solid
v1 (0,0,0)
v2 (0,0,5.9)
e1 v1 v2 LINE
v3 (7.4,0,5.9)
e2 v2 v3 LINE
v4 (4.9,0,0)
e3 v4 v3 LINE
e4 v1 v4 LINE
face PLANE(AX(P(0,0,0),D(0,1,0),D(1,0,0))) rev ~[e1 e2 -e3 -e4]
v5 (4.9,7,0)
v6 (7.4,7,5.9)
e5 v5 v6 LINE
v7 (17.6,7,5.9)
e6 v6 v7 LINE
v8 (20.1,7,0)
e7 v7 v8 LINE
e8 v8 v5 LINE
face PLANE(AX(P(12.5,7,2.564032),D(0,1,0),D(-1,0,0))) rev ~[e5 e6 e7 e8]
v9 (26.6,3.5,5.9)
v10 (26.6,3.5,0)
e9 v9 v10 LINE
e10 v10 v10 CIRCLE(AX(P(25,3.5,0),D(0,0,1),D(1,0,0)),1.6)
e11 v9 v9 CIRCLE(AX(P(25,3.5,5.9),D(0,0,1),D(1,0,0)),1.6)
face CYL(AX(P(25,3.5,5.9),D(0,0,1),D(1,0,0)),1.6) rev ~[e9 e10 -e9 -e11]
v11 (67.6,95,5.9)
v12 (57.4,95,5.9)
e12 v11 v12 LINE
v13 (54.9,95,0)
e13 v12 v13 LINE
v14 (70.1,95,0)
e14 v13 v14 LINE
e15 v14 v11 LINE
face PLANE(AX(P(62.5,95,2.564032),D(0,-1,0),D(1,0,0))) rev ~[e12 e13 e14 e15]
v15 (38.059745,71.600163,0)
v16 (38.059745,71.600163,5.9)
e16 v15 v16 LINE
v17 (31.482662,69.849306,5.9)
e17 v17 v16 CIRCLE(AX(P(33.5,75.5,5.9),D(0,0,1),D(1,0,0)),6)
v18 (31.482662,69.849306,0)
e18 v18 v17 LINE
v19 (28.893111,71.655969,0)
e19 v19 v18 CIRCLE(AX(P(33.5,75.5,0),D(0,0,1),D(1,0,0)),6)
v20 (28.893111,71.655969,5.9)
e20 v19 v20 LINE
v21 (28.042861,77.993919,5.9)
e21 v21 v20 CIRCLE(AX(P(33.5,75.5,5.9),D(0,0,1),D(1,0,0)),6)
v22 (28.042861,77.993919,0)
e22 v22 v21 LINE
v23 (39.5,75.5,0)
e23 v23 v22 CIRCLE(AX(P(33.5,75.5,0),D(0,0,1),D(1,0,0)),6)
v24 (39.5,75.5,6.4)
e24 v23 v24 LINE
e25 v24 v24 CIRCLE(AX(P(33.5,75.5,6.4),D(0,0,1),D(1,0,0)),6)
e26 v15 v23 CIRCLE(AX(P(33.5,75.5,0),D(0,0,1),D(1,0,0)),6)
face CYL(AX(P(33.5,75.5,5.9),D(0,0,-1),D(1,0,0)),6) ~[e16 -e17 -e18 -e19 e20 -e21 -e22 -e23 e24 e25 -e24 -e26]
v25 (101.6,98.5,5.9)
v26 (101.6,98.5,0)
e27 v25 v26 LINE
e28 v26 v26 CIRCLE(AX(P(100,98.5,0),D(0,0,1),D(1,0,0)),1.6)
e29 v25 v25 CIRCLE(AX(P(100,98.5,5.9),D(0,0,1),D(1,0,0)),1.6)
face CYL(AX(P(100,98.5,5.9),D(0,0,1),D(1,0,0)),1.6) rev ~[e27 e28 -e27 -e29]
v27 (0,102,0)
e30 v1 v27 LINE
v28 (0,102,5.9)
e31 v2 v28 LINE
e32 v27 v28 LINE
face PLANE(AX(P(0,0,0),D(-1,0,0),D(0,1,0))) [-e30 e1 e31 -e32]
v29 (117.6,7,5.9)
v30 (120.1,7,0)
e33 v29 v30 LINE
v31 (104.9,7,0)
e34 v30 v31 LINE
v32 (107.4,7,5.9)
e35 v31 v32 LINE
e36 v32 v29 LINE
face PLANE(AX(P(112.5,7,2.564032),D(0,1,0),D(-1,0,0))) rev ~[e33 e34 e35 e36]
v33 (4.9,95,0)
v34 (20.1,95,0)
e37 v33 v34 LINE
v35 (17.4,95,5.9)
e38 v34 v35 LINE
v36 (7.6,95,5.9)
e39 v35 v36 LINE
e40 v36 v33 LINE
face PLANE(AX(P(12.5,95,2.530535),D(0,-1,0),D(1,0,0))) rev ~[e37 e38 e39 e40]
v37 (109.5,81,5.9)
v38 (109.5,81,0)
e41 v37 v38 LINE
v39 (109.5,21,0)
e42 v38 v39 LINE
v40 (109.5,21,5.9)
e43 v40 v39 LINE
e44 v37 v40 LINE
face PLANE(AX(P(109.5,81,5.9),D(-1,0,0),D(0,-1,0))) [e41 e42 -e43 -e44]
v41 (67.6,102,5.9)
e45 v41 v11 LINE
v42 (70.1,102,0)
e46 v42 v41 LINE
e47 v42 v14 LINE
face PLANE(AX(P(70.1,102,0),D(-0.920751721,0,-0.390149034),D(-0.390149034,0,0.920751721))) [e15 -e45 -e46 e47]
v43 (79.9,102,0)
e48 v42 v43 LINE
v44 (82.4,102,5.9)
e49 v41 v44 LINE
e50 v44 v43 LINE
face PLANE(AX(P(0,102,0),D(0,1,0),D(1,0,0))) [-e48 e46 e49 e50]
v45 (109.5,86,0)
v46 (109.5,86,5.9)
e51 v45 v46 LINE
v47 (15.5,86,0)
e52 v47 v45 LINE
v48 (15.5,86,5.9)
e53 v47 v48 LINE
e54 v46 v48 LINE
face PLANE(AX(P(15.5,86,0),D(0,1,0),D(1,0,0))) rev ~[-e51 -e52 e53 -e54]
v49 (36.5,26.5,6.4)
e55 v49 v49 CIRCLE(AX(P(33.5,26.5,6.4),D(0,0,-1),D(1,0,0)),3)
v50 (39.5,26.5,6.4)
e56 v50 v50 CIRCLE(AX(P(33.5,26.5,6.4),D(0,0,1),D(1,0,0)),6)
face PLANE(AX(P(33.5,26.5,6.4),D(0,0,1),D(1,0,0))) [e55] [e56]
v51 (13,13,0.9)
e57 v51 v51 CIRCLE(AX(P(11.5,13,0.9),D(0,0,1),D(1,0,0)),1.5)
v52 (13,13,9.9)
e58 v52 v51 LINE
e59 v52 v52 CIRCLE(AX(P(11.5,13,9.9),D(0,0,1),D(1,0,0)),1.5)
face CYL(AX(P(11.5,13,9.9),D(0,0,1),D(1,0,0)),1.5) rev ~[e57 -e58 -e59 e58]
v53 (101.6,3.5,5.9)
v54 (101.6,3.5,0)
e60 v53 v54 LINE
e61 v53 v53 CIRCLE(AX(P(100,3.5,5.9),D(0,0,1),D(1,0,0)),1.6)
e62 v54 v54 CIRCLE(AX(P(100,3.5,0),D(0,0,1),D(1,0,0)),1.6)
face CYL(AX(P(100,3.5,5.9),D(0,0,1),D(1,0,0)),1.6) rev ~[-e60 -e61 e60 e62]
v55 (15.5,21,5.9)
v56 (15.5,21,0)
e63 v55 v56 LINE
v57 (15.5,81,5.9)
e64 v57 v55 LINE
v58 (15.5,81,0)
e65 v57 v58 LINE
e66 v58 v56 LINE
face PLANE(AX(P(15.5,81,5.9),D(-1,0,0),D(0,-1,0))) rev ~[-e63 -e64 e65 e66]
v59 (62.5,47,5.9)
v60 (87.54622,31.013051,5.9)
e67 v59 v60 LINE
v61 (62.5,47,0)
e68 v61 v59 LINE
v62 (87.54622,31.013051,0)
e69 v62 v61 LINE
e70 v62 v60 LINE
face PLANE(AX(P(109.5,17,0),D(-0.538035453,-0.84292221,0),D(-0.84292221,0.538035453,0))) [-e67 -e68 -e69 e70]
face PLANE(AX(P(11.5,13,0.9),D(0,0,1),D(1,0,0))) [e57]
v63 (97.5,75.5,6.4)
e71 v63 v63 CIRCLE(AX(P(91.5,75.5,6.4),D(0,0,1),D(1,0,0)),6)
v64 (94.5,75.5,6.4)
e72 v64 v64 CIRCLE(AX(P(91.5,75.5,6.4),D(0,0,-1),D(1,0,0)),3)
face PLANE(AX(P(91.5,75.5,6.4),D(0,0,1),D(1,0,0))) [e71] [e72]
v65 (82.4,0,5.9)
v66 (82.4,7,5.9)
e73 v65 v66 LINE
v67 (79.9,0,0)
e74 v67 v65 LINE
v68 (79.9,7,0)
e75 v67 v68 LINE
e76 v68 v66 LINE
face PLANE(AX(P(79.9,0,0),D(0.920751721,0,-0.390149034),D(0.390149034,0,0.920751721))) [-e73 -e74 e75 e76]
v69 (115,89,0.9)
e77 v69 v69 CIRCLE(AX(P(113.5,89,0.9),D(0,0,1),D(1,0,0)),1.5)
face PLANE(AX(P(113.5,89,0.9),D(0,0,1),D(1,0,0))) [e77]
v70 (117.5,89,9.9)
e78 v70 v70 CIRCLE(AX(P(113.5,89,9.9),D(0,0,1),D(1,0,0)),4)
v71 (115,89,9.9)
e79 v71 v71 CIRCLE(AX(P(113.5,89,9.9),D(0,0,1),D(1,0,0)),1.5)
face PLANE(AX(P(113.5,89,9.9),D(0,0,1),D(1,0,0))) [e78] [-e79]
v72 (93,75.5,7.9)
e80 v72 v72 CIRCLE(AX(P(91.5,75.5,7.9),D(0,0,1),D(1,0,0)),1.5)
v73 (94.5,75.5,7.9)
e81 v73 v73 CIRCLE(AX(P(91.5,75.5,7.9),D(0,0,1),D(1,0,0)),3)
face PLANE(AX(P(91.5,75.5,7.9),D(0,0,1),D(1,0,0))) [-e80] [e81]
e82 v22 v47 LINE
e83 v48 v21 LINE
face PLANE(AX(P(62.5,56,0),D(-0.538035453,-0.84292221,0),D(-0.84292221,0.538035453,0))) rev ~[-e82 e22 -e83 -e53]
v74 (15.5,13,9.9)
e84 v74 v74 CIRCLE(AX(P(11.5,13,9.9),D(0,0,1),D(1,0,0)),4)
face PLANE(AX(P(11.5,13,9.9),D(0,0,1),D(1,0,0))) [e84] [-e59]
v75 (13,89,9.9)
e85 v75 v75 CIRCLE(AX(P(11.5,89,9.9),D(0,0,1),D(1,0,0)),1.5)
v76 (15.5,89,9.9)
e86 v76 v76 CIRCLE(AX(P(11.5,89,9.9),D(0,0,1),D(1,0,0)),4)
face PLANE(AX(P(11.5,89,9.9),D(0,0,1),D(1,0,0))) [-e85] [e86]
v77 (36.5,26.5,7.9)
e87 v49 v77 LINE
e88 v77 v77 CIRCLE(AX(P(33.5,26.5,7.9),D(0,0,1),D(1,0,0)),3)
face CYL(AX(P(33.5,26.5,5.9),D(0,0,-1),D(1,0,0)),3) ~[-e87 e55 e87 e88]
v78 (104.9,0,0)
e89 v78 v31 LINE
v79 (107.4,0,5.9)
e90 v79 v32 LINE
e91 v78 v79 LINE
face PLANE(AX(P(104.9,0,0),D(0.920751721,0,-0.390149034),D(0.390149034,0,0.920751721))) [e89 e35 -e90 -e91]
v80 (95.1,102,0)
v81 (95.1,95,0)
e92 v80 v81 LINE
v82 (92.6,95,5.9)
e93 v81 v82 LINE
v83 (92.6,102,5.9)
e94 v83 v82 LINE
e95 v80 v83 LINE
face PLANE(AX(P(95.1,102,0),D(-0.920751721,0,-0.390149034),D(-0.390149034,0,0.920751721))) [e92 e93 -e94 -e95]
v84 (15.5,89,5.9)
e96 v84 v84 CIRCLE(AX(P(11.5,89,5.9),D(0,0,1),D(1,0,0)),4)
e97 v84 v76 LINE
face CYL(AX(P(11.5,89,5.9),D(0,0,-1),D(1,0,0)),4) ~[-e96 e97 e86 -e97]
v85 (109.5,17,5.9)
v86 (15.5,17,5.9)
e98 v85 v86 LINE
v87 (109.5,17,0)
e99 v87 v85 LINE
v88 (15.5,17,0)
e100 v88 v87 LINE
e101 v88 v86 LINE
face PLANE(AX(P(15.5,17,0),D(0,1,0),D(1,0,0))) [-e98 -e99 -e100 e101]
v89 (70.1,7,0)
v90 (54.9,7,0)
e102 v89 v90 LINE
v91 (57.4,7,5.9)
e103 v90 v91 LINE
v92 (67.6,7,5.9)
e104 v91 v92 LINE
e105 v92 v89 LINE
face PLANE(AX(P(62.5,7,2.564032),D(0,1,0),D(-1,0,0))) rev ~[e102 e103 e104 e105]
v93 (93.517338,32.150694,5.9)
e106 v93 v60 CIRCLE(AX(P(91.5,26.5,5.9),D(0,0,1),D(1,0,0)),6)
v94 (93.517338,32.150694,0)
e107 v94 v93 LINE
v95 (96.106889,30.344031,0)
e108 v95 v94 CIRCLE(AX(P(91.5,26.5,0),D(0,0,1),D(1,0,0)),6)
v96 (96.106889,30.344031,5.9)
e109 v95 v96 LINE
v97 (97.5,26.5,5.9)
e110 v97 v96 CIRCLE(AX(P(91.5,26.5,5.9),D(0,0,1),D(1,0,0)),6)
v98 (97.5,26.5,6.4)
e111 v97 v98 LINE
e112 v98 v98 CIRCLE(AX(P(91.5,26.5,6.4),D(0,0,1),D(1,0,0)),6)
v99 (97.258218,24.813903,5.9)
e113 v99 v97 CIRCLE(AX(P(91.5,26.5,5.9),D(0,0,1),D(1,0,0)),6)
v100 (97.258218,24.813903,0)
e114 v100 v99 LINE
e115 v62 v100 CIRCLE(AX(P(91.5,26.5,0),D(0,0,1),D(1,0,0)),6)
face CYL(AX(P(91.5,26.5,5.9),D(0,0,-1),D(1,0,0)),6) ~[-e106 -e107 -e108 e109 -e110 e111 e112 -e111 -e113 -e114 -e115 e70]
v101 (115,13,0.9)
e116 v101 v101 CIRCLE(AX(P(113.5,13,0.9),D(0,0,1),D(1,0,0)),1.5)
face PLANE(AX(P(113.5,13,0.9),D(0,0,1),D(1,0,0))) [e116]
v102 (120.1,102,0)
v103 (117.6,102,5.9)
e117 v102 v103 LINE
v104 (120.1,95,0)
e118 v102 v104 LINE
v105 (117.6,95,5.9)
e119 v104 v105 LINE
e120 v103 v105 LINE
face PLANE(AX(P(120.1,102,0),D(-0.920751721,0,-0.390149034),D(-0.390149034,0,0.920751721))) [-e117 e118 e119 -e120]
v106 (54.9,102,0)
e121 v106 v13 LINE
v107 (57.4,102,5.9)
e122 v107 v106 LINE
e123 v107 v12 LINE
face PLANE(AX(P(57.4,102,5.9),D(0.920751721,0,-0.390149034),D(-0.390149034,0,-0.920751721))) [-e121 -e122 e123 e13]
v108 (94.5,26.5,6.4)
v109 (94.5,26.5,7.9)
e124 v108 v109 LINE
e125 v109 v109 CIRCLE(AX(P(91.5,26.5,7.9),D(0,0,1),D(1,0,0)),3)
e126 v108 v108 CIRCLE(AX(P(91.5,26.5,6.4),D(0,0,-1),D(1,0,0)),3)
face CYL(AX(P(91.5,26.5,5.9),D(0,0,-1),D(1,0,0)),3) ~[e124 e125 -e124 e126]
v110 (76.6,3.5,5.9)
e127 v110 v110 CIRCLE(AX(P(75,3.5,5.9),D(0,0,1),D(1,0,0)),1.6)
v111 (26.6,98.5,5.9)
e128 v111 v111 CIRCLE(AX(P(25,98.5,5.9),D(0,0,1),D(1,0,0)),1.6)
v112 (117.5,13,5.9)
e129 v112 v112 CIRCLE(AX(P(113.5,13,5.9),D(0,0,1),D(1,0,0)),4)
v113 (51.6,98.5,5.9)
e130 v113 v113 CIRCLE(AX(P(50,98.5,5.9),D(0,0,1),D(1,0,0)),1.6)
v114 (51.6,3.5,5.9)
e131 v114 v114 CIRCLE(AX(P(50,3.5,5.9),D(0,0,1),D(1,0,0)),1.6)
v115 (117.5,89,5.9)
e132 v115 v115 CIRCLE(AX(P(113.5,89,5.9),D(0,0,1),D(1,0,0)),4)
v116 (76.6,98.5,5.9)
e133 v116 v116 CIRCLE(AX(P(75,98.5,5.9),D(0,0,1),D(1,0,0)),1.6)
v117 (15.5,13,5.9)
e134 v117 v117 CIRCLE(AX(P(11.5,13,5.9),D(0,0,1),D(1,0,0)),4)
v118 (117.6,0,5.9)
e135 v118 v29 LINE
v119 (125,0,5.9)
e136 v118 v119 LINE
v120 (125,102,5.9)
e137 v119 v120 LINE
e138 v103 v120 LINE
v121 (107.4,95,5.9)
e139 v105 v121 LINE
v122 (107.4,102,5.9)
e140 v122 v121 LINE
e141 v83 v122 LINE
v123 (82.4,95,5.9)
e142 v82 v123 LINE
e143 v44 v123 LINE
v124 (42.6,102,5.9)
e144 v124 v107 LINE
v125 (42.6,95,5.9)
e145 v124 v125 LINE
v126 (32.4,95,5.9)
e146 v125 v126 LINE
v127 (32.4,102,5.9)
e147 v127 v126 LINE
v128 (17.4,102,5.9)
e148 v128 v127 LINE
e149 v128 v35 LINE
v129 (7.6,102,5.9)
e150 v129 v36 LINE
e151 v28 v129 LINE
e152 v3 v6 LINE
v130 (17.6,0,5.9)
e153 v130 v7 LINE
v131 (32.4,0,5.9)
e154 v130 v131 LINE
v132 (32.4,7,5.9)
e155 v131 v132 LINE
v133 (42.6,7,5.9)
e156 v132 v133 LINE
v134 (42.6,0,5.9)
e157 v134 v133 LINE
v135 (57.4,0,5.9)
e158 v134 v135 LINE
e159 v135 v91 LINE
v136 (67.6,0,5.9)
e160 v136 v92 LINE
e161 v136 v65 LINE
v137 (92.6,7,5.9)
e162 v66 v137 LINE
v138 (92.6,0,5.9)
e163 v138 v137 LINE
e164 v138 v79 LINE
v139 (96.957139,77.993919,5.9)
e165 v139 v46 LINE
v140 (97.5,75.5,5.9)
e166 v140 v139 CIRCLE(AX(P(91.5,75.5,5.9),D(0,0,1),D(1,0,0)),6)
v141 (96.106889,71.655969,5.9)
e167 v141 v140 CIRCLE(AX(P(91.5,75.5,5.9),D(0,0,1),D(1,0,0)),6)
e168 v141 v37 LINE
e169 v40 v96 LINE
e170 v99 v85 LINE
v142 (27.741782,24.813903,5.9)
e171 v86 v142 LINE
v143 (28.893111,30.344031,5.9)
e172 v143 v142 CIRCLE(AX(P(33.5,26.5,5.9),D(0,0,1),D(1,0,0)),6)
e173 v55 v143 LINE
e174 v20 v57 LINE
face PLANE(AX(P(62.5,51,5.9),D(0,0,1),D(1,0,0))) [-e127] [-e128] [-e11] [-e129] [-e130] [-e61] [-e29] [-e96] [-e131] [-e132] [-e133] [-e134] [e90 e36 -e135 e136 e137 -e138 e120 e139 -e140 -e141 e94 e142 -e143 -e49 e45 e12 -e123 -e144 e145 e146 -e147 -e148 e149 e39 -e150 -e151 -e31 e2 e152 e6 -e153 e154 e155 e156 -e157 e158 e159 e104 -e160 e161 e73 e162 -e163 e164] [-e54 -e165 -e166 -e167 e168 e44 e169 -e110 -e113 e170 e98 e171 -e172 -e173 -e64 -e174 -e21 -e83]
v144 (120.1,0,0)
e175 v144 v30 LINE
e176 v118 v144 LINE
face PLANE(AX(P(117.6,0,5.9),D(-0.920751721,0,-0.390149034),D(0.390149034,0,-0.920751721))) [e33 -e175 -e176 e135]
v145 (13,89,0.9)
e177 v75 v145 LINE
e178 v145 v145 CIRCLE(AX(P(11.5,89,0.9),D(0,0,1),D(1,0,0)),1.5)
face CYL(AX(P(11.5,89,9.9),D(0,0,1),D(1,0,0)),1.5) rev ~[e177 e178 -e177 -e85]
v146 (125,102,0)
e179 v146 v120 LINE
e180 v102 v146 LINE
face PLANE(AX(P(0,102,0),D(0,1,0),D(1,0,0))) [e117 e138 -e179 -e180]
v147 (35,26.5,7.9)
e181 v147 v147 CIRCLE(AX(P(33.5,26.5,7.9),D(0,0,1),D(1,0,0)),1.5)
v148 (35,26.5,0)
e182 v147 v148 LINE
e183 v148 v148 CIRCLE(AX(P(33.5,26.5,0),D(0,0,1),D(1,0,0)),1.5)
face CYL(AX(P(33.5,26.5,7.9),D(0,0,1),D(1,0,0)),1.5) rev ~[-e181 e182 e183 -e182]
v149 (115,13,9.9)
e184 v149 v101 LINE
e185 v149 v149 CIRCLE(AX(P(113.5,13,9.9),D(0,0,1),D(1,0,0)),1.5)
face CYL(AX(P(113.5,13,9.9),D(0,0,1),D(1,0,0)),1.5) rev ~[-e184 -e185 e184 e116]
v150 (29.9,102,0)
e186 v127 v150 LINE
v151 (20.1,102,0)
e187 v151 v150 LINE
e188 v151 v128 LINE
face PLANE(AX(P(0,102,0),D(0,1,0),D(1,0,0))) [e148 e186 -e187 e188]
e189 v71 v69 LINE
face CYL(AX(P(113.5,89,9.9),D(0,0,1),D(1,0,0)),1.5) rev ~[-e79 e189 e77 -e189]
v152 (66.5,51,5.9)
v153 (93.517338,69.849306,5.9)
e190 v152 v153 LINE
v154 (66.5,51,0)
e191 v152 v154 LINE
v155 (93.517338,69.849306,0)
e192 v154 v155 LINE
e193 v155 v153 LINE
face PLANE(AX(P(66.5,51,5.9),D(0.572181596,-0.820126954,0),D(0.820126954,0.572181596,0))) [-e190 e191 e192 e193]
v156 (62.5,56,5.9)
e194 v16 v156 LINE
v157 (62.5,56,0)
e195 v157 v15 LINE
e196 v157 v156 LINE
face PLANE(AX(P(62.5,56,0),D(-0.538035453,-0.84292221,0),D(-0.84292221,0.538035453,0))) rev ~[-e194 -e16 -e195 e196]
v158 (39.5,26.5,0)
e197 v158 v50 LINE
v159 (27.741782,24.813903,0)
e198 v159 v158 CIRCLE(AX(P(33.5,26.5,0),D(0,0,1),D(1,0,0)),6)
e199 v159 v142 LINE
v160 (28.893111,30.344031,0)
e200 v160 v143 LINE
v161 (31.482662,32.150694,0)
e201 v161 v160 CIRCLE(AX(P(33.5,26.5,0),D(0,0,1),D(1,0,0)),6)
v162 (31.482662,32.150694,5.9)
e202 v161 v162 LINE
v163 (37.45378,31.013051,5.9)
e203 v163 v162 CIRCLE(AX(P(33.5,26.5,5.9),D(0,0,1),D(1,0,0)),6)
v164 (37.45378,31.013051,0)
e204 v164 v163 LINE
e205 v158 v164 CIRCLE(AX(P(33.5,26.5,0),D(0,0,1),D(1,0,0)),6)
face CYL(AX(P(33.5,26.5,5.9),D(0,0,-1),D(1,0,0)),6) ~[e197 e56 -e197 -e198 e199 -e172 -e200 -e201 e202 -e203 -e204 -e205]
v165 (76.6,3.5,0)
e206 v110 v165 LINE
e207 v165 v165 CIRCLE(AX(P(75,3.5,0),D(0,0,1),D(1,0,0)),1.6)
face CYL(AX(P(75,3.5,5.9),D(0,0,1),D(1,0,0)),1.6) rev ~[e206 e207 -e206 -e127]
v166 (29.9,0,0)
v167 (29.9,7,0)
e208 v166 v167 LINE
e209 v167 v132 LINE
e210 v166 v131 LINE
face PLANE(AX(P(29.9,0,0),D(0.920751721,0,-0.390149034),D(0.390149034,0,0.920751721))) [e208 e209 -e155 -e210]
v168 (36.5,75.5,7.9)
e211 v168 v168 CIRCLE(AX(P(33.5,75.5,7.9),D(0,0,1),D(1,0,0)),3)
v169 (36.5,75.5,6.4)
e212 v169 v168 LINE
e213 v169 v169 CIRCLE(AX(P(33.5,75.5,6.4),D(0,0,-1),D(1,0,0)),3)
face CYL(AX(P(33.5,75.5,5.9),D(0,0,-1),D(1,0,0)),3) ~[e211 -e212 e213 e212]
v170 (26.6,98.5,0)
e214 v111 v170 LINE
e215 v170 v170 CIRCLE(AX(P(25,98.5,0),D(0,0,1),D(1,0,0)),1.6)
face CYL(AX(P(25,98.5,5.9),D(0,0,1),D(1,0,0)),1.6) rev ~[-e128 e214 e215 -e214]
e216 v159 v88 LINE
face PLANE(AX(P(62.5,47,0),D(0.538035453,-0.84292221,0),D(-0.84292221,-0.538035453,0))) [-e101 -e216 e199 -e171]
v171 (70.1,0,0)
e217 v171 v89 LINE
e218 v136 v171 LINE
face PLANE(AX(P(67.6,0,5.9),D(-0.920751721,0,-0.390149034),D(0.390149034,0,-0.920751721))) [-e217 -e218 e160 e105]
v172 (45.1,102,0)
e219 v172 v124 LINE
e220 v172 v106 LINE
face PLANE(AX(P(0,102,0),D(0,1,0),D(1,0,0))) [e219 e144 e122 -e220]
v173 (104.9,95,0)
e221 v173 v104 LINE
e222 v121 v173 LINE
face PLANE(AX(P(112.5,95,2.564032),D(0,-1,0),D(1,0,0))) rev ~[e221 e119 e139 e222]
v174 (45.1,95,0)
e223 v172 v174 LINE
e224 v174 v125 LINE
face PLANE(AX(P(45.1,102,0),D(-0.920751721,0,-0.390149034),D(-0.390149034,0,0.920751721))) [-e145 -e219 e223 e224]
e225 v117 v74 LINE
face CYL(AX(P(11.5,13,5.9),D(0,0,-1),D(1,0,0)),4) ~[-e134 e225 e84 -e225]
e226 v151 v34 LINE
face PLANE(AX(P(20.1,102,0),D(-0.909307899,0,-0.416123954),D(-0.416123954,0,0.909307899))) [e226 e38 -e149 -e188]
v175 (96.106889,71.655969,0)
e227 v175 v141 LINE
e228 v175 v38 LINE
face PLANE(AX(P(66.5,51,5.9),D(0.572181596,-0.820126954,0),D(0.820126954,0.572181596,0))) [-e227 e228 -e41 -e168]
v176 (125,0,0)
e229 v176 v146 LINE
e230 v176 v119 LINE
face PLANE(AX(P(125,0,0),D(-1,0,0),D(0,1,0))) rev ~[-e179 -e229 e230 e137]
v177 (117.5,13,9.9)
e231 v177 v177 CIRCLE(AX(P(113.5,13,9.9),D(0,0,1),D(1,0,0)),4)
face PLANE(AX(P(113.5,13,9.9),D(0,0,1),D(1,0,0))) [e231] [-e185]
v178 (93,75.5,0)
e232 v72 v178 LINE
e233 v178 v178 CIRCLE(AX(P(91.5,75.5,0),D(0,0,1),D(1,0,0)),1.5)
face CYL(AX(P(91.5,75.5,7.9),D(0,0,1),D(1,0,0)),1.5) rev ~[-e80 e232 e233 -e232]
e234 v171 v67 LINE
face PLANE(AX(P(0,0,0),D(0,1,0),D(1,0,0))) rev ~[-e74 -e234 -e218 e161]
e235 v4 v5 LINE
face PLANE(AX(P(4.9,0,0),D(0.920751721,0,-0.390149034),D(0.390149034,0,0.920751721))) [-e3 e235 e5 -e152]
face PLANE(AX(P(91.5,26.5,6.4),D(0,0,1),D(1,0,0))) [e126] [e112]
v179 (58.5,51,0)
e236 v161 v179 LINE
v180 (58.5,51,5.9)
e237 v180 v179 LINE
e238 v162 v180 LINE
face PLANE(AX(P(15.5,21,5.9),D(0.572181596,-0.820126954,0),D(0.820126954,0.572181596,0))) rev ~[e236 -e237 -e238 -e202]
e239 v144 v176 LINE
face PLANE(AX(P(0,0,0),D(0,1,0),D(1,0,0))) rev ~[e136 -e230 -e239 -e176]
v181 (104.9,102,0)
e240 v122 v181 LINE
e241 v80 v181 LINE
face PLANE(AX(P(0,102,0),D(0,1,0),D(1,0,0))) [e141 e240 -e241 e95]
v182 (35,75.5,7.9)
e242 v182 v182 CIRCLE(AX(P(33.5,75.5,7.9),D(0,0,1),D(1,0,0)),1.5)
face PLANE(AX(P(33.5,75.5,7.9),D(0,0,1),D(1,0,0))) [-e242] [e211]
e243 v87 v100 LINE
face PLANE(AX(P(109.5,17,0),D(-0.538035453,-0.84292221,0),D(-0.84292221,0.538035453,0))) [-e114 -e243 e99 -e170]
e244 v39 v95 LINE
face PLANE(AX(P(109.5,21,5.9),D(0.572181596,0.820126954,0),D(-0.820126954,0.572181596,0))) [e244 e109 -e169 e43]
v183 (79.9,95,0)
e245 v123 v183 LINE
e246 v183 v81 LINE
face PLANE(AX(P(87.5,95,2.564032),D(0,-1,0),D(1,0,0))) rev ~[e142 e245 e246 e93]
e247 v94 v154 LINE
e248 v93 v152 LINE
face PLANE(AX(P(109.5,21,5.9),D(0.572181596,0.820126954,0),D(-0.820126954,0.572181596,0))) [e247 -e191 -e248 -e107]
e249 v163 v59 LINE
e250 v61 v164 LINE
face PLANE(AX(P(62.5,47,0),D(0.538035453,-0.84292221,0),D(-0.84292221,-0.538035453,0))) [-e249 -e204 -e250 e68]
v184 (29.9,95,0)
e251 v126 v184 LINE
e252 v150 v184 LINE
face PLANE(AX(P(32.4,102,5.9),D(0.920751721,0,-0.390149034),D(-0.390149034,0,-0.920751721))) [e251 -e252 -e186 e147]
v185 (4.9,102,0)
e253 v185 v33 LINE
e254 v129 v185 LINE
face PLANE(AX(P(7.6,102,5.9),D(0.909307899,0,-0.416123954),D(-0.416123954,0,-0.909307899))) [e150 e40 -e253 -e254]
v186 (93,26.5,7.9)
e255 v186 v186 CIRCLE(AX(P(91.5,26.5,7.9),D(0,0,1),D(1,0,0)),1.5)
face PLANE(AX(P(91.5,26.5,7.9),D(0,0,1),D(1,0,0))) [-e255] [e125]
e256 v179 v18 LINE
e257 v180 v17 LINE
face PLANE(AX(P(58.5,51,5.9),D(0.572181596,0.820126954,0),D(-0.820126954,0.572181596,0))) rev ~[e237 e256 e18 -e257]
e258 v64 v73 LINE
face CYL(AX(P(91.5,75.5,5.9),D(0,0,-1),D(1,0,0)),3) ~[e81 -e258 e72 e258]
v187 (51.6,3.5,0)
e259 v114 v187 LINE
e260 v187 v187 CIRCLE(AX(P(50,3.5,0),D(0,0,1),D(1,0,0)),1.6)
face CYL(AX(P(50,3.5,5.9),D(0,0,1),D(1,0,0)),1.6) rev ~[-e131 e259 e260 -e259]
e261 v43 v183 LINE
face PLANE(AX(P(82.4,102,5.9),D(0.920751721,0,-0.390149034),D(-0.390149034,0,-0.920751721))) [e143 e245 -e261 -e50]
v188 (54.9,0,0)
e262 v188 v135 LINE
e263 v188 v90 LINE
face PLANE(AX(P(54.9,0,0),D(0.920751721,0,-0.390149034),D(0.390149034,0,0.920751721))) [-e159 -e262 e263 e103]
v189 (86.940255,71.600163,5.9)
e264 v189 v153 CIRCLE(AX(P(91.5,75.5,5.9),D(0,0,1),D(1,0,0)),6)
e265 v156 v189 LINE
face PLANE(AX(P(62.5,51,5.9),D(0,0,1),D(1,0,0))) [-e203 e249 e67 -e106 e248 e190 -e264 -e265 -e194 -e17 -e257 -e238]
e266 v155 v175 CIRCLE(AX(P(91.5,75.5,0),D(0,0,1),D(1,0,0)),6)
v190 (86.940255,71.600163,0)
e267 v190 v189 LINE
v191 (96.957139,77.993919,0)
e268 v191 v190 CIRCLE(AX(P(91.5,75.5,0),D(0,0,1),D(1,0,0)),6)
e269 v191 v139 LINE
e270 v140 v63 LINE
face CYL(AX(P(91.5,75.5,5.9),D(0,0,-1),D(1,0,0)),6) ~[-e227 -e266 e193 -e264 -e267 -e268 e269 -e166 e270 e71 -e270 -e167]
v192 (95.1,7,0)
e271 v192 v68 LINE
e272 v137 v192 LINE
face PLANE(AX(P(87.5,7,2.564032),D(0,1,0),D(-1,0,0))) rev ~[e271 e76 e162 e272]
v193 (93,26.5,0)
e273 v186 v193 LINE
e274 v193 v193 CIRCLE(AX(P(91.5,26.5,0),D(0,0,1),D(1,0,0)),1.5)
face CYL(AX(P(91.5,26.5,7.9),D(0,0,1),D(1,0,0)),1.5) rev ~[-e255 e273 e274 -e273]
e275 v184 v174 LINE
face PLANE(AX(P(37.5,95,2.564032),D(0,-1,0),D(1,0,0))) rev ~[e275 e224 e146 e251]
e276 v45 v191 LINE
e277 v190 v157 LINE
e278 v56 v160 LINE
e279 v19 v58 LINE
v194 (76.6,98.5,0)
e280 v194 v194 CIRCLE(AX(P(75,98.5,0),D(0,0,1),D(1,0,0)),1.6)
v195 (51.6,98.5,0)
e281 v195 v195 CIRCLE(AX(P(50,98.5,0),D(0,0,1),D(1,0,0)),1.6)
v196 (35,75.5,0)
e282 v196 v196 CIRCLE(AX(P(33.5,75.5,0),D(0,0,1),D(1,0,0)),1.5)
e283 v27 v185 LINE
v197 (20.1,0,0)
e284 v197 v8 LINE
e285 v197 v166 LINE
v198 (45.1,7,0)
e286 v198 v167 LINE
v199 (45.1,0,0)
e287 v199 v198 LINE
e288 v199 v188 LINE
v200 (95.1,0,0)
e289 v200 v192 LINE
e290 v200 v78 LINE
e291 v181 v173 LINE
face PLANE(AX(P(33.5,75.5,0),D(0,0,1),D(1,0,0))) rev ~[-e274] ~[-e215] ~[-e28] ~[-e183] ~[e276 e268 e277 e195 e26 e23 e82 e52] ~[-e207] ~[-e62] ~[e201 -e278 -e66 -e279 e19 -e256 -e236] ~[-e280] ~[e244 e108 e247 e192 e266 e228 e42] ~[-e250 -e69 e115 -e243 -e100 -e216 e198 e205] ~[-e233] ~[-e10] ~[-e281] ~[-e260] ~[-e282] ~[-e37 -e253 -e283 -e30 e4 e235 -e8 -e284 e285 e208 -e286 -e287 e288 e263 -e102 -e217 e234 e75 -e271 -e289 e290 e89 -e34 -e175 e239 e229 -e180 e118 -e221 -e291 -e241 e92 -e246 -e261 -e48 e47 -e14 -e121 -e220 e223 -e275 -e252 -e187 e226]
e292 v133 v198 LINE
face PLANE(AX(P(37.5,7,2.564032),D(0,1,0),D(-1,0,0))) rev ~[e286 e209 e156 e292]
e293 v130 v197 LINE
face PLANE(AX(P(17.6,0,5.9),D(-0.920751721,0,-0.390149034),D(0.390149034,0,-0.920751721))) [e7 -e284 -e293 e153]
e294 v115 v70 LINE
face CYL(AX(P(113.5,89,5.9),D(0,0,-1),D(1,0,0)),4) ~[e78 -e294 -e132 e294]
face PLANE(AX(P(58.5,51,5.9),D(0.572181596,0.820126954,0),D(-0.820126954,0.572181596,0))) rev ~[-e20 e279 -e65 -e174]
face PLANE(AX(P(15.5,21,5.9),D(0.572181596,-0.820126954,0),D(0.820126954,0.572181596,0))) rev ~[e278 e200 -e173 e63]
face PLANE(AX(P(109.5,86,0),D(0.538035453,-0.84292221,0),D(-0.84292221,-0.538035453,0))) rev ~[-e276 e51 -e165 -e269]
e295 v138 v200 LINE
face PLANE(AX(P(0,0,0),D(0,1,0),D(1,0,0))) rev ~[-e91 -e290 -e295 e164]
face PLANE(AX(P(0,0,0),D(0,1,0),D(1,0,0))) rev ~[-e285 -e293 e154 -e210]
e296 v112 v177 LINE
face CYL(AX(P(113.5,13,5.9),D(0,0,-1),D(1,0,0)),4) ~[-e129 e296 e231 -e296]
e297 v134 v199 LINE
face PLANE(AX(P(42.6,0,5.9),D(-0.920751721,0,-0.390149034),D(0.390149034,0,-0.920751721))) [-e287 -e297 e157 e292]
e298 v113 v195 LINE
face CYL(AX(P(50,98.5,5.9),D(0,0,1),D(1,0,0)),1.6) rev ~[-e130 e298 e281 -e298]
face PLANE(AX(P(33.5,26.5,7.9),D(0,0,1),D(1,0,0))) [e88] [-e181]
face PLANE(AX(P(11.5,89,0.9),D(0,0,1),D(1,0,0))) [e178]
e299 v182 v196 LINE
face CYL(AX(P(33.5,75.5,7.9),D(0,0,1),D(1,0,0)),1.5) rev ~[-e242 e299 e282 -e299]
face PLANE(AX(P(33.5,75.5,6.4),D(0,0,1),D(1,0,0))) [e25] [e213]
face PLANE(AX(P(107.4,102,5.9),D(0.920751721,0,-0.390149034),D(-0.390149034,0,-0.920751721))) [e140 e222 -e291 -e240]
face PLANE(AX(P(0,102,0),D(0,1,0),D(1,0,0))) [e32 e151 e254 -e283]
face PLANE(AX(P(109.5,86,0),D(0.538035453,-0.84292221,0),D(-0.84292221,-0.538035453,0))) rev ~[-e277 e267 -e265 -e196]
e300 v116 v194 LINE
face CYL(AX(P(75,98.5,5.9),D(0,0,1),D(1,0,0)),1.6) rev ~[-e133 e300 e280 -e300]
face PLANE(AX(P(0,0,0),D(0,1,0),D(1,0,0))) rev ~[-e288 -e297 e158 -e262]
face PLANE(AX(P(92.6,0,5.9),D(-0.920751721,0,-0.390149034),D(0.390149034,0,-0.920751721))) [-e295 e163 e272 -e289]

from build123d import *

# Parameters (mm, degrees)
SKETCH_W          = 125
SKETCH_H          = 102
PAD_DEPTH         = 5.9
POCKET_DEPTH      = 7
POCKET001_DEPTH   = 7
POCKET003_DEPTH   = 6
POCKET004_DEPTH   = 6
SKETCH008_R       = 4
PAD002_DEPTH      = 4
SKETCH009_R       = 1.5
POCKET005_DEPTH   = 9
SKETCH010_R       = 6
PAD003_DEPTH      = 0.5
PAD003_DEPTH_BACK = 5.9
SKETCH011_R       = 3
PAD004_DEPTH      = 2
SKETCH012_R       = 1.5
POCKET006_DEPTH   = 8
SKETCH013_R       = 1.6
POCKET007_DEPTH   = 5.901


with BuildPart() as part:
    # Sketch → Pad (new body)
    with BuildSketch(Plane.XY):
        with Locations((62.5, 51)):
            Rectangle(SKETCH_W, SKETCH_H)
    extrude(amount=PAD_DEPTH)

    # Sketch001 (on Face3 of Pad) → Pocket (cut)
    with BuildSketch(Plane.XZ):
        Polygon((7.4, 5.9), (17.6, 5.9), (20.1, 0), (4.9, 0), align=None)
        Polygon((32.4, 5.9), (42.6, 5.9), (45.1, 0), (29.9, 0), align=None)
        Polygon((57.4, 5.9), (67.6, 5.9), (70.1, 0), (54.9, 0), align=None)
        Polygon((82.4, 5.9), (92.6, 5.9), (95.1, 0), (79.9, 0), align=None)
        Polygon((107.4, 5.9), (117.6, 5.9), (120.1, 0), (104.9, 0), align=None)
    extrude(amount=-POCKET_DEPTH, mode=Mode.SUBTRACT)

    # Sketch003 (on Face1 of Pocket) → Pocket001 (cut)
    with BuildSketch(Plane(origin=(0, 102, 0), x_dir=(-1, 0, 0), z_dir=(0, 1, 0))):
        Polygon((-117.6, 5.9), (-107.4, 5.9), (-104.9, 0), (-120.1, 0), align=None)
        Polygon((-92.6, 5.9), (-82.4, 5.9), (-79.9, 0), (-95.1, 0), align=None)
        Polygon((-67.6, 5.9), (-57.4, 5.9), (-54.9, 0), (-70.1, 0), align=None)
        Polygon((-42.6, 5.9), (-32.4, 5.9), (-29.9, 0), (-45.1, 0), align=None)
        Polygon((-17.4, 5.9), (-7.6, 5.9), (-4.9, 0), (-20.1, 0), align=None)
    extrude(amount=-POCKET001_DEPTH, mode=Mode.SUBTRACT)

    # Sketch006 → Pocket003 (cut)
    with BuildSketch(Plane(origin=(0, 0, 0), x_dir=(1, 0, 0), z_dir=(0, 0, -1))):
        Polygon((15.5, -17), (109.5, -17), (62.5, -47), align=None)
        Polygon((15.5, -86), (109.5, -86), (62.5, -56), align=None)
    extrude(amount=-POCKET003_DEPTH, mode=Mode.SUBTRACT)

    # Sketch007 (on Face4 of Pocket003) → Pocket004 (cut)
    with BuildSketch(Plane.XY.offset(5.9)):
        Polygon((15.5, 81), (15.5, 21), (58.5, 51), align=None)
        Polygon((109.5, 81), (109.5, 21), (66.5, 51), align=None)
    extrude(amount=-POCKET004_DEPTH, mode=Mode.SUBTRACT)

    # Sketch008 (on Face4 of Pocket004) → Pad002 (join)
    with BuildSketch(Plane.XY.offset(5.9)):
        with Locations((11.5, 89)):
            Circle(SKETCH008_R)
        with Locations((113.5, 89)):
            Circle(SKETCH008_R)
        with Locations((11.5, 13)):
            Circle(SKETCH008_R)
        with Locations((113.5, 13)):
            Circle(SKETCH008_R)
    extrude(amount=PAD002_DEPTH)

    # Sketch009 (on Face65 of Pad002) → Pocket005 (cut)
    with BuildSketch(Plane.XY.offset(9.9)):
        with Locations((11.5, 13)):
            Circle(SKETCH009_R)
        with Locations((11.5, 89)):
            Circle(SKETCH009_R)
        with Locations((113.5, 89)):
            Circle(SKETCH009_R)
        with Locations((113.5, 13)):
            Circle(SKETCH009_R)
    extrude(amount=-POCKET005_DEPTH, mode=Mode.SUBTRACT)

    # Sketch010 (on Face4 of Pocket005) → Pad003 (join, two sides)
    with BuildSketch(Plane.XY.offset(5.9)) as pad003_sk:
        with Locations((33.5, 75.5)):
            Circle(SKETCH010_R)
        with Locations((91.5, 75.5)):
            Circle(SKETCH010_R)
        with Locations((33.5, 26.5)):
            Circle(SKETCH010_R)
        with Locations((91.5, 26.5)):
            Circle(SKETCH010_R)
    extrude(amount=PAD003_DEPTH)
    extrude(pad003_sk.sketch, amount=-PAD003_DEPTH_BACK)

    # Sketch011 (on Face4 of Pad003) → Pad004 (join)
    with BuildSketch(Plane.XY.offset(5.9)):
        with Locations((33.5, 75.5)):
            Circle(SKETCH011_R)
        with Locations((91.5, 75.5)):
            Circle(SKETCH011_R)
        with Locations((33.5, 26.5)):
            Circle(SKETCH011_R)
        with Locations((91.5, 26.5)):
            Circle(SKETCH011_R)
    extrude(amount=PAD004_DEPTH)

    # Sketch012 (on Face108 of Pad004) → Pocket006 (cut)
    with BuildSketch(Plane.XY.offset(7.9)):
        with Locations((91.5, 75.5)):
            Circle(SKETCH012_R)
        with Locations((91.5, 26.5)):
            Circle(SKETCH012_R)
        with Locations((33.5, 26.5)):
            Circle(SKETCH012_R)
        with Locations((33.5, 75.5)):
            Circle(SKETCH012_R)
    extrude(amount=-POCKET006_DEPTH, mode=Mode.SUBTRACT)

    # Sketch013 (on Face4 of Pocket006) → Pocket007 (cut, through all)
    with BuildSketch(Plane.XY.offset(5.9)):
        with Locations((25, 3.5)):
            Circle(SKETCH013_R)
        with Locations((50, 3.5)):
            Circle(SKETCH013_R)
        with Locations((75, 3.5)):
            Circle(SKETCH013_R)
        with Locations((100, 3.5)):
            Circle(SKETCH013_R)
        with Locations((25, 98.5)):
            Circle(SKETCH013_R)
        with Locations((50, 98.5)):
            Circle(SKETCH013_R)
        with Locations((75, 98.5)):
            Circle(SKETCH013_R)
        with Locations((100, 98.5)):
            Circle(SKETCH013_R)
    extrude(amount=-POCKET007_DEPTH, mode=Mode.SUBTRACT)


solid = part.part
